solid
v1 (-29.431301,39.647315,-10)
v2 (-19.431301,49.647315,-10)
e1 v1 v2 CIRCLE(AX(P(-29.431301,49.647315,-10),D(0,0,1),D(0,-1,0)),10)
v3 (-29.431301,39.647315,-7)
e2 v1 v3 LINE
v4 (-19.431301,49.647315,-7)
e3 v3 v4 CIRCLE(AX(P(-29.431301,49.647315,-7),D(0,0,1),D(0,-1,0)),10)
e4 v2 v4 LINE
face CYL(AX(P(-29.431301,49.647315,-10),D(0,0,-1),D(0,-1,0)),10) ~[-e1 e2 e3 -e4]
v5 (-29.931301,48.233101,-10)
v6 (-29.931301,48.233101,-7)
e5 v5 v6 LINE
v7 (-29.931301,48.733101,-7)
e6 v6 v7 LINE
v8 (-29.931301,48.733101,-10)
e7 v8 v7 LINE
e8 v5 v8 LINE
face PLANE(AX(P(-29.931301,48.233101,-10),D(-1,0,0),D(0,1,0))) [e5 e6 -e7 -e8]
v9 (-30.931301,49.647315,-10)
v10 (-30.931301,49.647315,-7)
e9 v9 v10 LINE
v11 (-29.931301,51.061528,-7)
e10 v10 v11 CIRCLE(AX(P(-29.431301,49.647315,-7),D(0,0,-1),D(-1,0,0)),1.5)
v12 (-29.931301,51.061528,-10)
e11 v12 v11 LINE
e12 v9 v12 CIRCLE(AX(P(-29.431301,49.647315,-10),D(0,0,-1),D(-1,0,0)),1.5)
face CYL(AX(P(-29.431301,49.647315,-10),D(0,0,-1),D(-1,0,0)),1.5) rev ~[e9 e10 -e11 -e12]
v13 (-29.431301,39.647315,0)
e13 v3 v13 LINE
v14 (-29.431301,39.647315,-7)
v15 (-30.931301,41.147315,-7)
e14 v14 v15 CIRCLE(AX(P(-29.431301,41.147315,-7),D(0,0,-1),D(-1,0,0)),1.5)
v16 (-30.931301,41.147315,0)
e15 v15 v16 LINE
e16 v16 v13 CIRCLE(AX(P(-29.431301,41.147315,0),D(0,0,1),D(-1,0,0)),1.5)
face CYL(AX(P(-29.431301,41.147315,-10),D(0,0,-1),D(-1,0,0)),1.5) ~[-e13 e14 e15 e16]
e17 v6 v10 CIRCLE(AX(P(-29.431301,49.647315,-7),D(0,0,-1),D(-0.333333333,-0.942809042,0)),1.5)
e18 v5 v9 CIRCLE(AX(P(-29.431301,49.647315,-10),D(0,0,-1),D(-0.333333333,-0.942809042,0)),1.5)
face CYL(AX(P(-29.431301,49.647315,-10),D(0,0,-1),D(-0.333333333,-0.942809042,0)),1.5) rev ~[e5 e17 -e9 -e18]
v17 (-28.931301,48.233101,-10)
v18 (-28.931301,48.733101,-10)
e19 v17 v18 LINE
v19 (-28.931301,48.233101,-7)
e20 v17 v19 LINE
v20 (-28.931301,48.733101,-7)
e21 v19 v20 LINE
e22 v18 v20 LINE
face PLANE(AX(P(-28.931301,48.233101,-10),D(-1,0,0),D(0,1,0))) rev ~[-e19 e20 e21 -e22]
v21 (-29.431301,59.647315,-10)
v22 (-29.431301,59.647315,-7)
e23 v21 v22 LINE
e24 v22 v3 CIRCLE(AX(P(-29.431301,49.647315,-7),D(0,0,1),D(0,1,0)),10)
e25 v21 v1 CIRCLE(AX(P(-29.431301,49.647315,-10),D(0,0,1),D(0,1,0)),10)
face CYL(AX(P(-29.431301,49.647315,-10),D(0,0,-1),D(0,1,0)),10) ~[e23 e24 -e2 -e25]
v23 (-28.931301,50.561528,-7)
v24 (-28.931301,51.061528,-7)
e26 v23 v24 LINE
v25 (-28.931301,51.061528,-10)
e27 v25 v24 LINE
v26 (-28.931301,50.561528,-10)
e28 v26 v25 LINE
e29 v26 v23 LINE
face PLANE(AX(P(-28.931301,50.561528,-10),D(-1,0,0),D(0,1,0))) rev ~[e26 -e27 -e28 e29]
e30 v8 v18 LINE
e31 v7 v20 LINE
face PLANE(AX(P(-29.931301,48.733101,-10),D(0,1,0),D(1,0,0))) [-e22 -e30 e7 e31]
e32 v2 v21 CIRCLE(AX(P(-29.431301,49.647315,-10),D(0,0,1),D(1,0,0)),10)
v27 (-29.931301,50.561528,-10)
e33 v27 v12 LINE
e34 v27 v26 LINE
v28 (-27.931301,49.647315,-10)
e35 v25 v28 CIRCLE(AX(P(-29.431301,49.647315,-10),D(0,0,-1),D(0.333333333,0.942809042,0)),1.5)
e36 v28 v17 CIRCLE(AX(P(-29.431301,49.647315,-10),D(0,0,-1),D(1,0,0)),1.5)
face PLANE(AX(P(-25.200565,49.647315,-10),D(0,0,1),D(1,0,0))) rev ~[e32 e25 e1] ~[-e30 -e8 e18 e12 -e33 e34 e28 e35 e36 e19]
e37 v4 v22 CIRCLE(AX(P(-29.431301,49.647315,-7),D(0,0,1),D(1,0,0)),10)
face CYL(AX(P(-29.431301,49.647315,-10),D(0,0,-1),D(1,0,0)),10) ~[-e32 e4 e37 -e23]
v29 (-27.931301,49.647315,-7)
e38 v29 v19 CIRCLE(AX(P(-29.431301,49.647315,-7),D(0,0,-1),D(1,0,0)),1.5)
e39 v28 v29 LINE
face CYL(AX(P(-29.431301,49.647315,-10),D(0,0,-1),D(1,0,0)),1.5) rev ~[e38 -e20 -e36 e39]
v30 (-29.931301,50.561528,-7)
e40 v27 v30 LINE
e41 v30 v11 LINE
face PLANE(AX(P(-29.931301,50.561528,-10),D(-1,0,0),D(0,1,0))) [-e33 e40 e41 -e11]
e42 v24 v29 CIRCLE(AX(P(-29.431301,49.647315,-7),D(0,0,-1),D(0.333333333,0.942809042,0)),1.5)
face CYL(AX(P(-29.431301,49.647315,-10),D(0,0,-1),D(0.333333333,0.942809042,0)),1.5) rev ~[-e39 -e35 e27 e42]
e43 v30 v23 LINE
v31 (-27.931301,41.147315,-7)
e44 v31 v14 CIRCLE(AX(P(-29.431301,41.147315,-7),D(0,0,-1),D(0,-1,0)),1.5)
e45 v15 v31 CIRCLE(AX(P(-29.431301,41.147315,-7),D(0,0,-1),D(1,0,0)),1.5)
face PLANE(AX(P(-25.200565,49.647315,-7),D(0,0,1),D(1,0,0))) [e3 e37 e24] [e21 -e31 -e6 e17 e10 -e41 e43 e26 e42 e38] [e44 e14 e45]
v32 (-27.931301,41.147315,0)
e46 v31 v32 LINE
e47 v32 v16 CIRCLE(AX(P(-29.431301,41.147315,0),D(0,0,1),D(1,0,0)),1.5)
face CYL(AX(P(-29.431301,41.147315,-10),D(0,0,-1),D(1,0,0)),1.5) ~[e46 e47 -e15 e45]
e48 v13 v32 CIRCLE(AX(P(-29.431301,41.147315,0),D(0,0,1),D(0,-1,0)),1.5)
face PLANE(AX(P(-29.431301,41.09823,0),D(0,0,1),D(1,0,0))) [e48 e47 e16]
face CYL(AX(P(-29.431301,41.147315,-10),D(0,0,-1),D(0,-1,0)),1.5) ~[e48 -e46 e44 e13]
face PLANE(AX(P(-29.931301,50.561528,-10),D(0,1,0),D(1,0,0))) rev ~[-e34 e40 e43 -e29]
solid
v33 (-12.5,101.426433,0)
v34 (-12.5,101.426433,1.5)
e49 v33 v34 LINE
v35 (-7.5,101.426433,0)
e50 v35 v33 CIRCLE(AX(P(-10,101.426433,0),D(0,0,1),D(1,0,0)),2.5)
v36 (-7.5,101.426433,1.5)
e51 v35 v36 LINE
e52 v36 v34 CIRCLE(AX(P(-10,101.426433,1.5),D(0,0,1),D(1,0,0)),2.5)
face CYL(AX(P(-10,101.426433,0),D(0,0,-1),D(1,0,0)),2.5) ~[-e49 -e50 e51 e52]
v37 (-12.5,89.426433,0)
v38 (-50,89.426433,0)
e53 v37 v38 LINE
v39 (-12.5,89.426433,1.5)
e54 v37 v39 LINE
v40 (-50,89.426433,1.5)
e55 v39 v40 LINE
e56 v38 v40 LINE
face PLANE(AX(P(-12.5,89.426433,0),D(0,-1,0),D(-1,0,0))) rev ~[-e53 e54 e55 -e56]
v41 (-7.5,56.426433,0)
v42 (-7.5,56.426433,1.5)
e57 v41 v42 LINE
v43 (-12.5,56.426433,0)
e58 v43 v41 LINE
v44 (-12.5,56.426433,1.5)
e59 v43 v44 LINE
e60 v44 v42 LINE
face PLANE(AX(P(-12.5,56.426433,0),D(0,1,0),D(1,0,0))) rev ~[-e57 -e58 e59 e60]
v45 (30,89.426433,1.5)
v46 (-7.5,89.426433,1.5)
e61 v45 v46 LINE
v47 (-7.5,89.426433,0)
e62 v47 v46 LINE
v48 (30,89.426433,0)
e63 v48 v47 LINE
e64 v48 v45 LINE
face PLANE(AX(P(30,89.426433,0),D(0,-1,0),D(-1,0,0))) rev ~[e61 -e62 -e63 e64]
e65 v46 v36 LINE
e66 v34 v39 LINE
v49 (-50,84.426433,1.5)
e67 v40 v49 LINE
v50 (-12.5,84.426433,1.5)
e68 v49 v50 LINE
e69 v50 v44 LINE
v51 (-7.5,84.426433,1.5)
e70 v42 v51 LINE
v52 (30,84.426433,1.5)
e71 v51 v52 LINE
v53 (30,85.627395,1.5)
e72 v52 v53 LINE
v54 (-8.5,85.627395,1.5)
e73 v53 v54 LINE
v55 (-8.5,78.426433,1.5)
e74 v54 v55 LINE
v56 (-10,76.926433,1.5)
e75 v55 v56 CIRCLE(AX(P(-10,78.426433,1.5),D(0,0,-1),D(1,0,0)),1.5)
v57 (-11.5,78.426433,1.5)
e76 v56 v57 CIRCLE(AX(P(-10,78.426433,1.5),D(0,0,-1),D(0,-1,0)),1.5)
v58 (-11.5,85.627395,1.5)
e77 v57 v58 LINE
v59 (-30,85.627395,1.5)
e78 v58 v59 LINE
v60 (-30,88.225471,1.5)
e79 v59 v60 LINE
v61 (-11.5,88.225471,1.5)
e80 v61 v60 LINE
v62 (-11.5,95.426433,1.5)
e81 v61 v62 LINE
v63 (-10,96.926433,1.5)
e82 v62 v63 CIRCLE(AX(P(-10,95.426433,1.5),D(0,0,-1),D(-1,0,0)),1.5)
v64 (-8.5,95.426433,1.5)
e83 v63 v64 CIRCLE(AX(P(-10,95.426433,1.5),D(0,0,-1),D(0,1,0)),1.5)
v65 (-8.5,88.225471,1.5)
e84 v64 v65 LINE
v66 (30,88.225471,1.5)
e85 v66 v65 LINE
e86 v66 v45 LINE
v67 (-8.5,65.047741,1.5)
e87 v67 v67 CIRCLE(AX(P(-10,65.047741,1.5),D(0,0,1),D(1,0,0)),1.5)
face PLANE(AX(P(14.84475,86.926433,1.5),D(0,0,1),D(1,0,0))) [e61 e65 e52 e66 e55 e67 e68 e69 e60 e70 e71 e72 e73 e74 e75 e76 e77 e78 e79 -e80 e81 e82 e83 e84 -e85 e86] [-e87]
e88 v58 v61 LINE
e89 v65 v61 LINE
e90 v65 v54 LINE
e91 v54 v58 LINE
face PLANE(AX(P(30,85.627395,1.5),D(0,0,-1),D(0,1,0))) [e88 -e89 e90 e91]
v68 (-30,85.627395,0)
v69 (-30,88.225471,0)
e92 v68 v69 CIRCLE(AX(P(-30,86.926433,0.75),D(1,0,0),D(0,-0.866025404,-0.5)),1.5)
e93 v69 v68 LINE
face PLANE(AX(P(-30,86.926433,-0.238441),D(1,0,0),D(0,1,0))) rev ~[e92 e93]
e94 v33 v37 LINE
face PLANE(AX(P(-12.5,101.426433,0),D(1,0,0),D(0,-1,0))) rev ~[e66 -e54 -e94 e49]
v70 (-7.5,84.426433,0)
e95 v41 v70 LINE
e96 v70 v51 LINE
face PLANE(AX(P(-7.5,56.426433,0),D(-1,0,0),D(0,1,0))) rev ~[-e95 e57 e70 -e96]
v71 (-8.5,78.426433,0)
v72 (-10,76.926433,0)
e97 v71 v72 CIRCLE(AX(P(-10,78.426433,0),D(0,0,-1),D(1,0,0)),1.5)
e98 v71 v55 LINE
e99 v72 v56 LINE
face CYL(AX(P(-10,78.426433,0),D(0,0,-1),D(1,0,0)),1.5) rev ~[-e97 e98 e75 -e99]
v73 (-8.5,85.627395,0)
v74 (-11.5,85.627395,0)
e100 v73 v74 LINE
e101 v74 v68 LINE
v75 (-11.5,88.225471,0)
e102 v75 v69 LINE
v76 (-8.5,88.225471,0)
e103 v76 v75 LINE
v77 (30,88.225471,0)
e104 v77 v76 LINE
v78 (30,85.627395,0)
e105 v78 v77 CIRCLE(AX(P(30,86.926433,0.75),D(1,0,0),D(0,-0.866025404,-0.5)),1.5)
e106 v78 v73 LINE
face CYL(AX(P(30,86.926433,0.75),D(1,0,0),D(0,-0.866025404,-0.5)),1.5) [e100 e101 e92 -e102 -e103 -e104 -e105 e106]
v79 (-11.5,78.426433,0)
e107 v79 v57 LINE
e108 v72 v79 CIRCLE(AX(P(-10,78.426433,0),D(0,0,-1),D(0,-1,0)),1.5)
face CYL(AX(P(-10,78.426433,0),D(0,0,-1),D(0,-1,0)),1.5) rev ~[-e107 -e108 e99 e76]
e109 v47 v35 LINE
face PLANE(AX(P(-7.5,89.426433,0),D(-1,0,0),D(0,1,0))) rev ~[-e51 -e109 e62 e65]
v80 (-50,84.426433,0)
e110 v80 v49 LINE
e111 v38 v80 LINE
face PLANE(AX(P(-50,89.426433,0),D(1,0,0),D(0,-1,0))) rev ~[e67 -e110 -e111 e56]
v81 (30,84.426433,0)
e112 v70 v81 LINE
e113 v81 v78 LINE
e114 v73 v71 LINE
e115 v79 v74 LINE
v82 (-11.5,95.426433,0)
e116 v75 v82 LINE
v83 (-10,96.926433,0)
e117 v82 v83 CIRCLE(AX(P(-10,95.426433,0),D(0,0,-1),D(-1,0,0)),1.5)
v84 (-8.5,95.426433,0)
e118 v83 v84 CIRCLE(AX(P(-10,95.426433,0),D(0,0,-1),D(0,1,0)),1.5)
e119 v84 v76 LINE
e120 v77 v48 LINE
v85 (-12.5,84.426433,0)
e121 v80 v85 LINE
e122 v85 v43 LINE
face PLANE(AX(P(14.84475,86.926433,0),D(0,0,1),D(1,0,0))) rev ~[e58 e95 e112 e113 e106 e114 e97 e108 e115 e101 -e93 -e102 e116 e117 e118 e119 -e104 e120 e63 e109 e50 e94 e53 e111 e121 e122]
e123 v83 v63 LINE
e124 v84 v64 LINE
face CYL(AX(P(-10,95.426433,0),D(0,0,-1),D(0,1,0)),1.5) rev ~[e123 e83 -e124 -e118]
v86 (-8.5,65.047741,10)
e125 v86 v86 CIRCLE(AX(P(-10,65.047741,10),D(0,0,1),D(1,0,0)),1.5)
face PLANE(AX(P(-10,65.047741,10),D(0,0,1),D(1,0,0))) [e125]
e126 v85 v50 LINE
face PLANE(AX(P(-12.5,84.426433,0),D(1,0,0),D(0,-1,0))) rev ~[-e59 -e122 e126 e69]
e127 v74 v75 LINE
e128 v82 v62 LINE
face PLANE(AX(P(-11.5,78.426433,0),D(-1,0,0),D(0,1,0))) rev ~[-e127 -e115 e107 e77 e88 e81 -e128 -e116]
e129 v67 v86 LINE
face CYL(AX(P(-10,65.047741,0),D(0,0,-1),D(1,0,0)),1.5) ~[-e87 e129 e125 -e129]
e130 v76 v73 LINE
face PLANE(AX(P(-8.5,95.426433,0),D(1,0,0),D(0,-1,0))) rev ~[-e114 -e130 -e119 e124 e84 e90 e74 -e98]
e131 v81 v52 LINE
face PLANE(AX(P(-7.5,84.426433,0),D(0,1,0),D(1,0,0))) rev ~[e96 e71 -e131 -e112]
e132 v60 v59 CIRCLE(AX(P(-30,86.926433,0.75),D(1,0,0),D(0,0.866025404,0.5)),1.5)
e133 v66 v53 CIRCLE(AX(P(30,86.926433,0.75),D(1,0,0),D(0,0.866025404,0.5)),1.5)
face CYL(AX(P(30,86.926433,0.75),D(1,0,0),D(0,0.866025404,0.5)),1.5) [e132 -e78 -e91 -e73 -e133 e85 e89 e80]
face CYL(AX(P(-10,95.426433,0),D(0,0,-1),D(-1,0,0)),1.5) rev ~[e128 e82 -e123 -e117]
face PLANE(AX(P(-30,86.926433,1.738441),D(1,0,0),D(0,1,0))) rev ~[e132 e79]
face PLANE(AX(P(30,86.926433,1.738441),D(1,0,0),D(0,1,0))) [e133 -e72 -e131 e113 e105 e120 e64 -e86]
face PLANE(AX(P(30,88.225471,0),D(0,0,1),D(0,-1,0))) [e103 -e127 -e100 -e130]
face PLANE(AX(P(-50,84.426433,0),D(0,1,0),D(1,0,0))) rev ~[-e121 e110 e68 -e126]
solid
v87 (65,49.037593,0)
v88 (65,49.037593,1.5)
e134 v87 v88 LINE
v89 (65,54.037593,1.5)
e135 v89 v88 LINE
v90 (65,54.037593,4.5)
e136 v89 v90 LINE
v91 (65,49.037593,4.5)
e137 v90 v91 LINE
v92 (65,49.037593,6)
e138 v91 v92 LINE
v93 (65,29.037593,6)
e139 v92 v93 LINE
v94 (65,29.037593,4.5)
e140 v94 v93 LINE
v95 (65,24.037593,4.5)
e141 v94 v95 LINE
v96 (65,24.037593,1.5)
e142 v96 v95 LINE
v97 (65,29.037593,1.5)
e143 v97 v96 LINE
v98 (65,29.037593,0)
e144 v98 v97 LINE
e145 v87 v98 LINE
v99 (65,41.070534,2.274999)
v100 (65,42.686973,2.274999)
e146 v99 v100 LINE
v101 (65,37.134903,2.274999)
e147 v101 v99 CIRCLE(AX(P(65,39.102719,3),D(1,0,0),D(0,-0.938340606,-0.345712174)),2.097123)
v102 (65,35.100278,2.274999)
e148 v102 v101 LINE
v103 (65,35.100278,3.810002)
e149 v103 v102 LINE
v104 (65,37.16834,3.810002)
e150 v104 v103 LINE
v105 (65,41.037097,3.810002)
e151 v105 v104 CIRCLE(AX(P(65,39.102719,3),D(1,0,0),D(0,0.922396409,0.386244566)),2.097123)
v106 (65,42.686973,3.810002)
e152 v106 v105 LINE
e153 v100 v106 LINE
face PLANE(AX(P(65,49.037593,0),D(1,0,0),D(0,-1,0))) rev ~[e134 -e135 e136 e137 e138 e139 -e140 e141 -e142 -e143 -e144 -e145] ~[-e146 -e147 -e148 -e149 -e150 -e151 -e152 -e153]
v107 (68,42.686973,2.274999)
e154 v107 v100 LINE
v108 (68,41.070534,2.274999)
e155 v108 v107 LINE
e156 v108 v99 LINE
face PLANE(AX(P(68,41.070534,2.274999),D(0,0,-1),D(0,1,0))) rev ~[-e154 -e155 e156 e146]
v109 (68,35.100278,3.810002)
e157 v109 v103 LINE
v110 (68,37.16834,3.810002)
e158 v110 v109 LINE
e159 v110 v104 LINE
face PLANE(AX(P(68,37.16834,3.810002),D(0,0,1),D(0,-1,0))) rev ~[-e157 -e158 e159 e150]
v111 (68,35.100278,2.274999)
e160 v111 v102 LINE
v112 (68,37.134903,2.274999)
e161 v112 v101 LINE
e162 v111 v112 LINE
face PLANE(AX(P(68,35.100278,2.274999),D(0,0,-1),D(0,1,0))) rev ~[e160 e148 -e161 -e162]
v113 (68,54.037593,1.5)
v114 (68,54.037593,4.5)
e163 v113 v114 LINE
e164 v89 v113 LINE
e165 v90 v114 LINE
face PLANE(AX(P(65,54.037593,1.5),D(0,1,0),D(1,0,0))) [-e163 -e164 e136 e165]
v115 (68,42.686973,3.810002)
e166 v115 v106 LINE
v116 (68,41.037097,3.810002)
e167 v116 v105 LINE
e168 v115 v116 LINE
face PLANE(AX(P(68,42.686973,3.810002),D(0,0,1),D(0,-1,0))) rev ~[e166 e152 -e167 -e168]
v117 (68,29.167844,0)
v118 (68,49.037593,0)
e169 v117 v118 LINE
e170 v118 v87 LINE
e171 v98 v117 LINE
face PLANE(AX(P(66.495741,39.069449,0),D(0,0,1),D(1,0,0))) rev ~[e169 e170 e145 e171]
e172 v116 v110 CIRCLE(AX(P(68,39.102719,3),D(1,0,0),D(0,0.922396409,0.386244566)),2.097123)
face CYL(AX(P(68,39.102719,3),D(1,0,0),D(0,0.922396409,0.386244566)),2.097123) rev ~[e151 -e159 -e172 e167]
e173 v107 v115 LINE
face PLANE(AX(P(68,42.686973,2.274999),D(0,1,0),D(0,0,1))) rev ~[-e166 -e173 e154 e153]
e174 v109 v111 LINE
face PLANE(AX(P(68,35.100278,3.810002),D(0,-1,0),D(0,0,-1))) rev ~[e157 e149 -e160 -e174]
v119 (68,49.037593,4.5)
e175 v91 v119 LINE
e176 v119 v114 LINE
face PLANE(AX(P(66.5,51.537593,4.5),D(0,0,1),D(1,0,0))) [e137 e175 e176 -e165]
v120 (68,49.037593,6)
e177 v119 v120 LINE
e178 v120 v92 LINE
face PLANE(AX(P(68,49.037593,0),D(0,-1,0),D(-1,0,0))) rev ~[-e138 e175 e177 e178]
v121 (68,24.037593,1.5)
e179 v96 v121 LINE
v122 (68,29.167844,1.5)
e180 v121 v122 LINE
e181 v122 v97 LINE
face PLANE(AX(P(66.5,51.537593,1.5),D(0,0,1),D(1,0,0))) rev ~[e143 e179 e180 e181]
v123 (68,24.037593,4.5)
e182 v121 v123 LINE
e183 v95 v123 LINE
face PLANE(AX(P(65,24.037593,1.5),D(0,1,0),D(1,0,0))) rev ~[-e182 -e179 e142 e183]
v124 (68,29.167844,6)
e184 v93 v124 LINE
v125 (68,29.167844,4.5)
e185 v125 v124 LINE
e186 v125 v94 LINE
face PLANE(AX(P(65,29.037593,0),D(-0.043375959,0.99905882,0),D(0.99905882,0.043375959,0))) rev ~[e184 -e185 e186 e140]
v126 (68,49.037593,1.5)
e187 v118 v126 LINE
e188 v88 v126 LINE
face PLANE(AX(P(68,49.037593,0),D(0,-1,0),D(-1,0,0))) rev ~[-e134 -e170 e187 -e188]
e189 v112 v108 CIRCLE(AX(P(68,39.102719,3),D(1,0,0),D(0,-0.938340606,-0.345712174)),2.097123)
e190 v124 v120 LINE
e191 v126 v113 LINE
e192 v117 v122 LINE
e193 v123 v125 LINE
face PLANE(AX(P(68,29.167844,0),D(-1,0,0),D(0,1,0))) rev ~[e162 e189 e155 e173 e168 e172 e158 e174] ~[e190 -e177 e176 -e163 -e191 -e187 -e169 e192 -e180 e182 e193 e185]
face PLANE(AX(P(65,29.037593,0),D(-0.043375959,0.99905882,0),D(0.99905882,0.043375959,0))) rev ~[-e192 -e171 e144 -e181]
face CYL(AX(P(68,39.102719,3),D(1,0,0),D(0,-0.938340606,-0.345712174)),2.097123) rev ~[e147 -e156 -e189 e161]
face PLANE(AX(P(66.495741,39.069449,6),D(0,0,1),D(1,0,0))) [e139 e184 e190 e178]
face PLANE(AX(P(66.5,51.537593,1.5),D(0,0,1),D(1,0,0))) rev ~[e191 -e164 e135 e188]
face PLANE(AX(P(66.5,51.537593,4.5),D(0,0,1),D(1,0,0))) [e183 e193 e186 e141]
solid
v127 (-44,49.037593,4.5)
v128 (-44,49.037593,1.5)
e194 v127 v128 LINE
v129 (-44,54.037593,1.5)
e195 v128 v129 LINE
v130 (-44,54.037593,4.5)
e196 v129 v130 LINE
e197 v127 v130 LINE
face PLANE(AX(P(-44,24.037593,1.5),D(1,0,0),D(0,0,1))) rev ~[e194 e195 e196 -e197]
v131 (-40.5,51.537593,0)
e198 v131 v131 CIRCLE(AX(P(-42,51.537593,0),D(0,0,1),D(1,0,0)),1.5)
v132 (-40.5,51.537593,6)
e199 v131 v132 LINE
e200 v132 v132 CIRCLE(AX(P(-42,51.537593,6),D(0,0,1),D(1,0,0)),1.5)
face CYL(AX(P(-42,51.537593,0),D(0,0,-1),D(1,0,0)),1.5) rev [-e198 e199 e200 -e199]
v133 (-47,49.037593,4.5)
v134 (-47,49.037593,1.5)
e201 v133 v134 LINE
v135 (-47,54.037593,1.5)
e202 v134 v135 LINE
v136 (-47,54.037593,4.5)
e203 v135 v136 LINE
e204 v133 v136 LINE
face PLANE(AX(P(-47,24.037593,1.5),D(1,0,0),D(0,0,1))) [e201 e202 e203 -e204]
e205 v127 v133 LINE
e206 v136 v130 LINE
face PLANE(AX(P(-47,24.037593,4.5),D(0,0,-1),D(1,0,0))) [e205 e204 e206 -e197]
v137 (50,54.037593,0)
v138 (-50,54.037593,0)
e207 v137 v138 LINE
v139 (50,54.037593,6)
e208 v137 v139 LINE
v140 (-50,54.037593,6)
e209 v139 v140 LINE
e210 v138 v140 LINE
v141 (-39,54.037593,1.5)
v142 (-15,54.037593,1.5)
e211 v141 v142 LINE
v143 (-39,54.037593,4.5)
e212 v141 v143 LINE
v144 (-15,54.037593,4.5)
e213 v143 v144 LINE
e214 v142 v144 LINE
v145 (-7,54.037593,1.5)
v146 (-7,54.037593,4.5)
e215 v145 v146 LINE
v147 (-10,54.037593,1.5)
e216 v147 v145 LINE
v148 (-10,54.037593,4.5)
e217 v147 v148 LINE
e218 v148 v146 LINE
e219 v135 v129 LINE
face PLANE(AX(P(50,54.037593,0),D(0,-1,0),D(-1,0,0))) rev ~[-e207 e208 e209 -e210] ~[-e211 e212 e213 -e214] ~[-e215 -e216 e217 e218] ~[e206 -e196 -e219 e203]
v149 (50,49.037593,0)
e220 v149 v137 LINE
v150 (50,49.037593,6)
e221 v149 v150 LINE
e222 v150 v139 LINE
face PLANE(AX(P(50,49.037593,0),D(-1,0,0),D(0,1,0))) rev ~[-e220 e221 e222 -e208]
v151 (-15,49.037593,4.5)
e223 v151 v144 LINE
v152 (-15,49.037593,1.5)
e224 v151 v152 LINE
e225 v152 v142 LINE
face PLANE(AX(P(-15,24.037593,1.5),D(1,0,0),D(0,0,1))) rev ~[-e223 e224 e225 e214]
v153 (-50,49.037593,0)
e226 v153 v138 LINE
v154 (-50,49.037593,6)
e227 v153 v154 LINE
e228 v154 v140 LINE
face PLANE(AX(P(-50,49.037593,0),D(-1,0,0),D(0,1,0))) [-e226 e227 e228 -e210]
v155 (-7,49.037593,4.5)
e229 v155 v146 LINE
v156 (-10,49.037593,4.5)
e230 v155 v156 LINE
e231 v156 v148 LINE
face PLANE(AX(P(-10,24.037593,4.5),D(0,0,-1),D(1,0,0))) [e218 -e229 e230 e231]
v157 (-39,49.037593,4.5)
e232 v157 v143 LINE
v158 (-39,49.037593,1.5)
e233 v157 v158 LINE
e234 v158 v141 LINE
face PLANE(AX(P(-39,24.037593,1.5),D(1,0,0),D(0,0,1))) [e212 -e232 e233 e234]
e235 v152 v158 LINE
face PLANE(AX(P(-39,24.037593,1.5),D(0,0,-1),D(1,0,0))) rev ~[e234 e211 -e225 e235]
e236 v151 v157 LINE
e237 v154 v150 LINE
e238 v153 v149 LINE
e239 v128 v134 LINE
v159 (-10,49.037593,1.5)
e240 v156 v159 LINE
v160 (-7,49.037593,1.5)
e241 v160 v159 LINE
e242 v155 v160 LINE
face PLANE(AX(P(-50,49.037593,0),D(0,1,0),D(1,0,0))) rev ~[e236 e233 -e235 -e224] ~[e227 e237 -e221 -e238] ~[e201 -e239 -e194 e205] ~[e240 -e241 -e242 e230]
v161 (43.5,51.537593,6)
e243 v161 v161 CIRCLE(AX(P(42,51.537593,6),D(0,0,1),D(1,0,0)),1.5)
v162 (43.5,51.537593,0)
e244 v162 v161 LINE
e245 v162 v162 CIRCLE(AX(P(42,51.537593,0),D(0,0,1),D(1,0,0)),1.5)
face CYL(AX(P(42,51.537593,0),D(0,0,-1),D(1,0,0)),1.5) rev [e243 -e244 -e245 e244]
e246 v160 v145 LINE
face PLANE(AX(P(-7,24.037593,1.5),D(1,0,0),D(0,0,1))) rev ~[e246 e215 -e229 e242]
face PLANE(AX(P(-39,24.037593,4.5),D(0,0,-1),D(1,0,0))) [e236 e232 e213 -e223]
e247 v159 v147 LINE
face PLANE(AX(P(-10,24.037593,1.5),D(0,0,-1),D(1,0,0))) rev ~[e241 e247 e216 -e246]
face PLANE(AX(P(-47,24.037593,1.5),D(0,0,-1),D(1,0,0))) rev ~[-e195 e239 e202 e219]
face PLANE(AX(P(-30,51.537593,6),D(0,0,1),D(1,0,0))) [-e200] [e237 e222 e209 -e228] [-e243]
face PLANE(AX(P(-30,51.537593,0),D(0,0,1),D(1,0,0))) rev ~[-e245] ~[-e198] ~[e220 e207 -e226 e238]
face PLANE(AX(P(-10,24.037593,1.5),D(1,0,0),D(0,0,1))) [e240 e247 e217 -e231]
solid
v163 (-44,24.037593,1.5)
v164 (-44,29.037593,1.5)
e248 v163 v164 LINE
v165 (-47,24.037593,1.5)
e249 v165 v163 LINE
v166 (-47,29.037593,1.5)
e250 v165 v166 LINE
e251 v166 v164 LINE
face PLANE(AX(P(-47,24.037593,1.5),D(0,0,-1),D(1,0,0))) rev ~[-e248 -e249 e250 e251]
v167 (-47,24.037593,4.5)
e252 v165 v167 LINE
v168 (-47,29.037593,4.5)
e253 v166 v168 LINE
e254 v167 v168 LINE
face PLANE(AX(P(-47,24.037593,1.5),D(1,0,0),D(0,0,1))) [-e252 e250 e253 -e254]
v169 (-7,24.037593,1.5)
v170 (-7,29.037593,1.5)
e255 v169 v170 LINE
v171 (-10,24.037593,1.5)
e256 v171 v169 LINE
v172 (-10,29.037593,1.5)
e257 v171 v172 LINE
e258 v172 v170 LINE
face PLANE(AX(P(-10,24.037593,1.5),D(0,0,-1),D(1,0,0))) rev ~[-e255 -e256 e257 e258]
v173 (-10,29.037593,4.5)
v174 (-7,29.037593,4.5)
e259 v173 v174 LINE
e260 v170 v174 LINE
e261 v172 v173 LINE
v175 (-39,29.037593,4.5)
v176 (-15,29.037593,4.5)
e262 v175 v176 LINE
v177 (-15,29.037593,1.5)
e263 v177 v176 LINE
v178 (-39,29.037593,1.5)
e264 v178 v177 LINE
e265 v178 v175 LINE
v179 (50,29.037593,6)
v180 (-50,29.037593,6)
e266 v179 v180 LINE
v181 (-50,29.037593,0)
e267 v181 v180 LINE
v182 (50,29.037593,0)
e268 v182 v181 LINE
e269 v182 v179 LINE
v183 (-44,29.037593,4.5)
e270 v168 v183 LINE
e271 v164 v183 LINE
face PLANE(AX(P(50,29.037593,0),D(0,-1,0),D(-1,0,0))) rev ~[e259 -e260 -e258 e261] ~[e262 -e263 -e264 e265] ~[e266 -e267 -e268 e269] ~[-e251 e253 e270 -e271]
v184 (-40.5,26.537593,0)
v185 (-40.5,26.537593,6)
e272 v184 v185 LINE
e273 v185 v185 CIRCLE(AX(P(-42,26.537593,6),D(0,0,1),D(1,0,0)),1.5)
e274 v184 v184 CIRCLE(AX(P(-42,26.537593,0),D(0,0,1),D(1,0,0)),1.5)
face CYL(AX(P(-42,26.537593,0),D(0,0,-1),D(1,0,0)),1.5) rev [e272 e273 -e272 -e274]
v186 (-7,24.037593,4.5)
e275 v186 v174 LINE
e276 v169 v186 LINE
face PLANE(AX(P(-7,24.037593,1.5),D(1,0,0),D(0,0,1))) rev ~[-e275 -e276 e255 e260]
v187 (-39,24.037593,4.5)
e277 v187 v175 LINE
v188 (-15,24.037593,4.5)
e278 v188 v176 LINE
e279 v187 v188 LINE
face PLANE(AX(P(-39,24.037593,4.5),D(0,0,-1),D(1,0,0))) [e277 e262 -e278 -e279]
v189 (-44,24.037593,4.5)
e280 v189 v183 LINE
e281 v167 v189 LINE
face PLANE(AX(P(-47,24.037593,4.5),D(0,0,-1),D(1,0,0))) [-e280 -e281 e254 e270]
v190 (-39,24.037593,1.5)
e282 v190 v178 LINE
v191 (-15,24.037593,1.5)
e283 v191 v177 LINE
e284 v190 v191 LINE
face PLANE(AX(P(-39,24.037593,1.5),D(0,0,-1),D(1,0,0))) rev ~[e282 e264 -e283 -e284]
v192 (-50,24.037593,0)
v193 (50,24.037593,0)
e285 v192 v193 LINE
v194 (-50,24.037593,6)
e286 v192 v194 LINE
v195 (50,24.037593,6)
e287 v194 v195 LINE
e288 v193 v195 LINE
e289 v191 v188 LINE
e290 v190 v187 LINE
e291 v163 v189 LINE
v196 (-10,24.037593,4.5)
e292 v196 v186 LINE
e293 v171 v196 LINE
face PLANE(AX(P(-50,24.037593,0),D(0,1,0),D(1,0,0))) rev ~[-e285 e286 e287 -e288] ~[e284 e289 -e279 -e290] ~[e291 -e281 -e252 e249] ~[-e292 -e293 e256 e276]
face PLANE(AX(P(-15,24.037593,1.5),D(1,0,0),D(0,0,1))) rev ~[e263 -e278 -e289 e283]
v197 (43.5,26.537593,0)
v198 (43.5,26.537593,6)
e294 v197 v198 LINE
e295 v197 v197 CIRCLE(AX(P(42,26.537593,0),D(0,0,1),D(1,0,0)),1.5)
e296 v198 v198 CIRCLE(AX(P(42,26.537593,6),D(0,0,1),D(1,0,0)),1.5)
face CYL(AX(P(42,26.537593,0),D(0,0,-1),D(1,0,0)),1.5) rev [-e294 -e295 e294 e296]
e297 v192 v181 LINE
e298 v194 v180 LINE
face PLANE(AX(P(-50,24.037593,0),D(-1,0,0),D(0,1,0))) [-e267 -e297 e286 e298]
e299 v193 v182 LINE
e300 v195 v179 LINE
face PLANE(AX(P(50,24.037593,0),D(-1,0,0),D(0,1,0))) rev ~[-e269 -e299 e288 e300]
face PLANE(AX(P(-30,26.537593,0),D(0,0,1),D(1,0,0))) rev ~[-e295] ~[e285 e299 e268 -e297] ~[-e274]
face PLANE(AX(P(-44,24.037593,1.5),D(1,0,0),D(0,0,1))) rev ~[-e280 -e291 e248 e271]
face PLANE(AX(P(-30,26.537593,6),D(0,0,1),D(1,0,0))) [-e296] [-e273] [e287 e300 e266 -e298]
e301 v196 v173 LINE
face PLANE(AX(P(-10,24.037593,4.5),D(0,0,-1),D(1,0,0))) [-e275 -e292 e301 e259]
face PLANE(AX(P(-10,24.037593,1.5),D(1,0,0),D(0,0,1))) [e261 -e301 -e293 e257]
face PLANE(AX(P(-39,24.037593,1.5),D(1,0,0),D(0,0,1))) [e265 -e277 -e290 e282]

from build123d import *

# Parameters (mm, degrees)
F0_W      = 40
F0_H      = 5
F0_R      = 1.5
F0_W_2    = 3
F0_W_3    = 57
F1_DEPTH  = 6
F2_START  = 1.5
F2_DEPTH  = 3
F3_DEPTH  = 6
F5_DEPTH  = 118.001
F6_W      = 3
F6_H      = 3
F6_W_2    = 24
F7_DEPTH  = 30.001
F0_W_4    = 1
F8_DEPTH  = 1.5
F9_DEPTH  = 10
F11_DEPTH = 60
F13_W     = 1
F13_H     = 0.5
F14_DEPTH = 3
F15_DEPTH = 10


with BuildPart() as f1:
    # F0 (on Top) → F1 (new body)
    with BuildSketch(Plane.XY):
        with Locations((-30, 51.5375933051)):
            Rectangle(F0_W, F0_H)
        with Locations((-42, 51.5375933051)):
            Circle(F0_R, mode=Mode.SUBTRACT)
        with Locations((-8.5, 51.5375933051)):
            Rectangle(F0_W_2, F0_H)
        with Locations((21.5, 51.5375933051)):
            Rectangle(F0_W_3, F0_H)
        with Locations((42, 51.5375933051)):
            Circle(F0_R, mode=Mode.SUBTRACT)
    extrude(amount=F1_DEPTH)


with BuildPart() as f1b:
    # F0 (on Top) → F1, piece 2 (new body)
    with BuildSketch(Plane.XY):
        with Locations((-30, 26.5375933051)):
            Rectangle(F0_W, F0_H)
        with Locations((-42, 26.5375933051)):
            Circle(F0_R, mode=Mode.SUBTRACT)
        with Locations((-8.5, 26.5375933051)):
            Rectangle(F0_W_2, F0_H)
        with Locations((21.5, 26.5375933051)):
            Rectangle(F0_W_3, F0_H)
        with Locations((42, 26.5375933051)):
            Circle(F0_R, mode=Mode.SUBTRACT)
    extrude(amount=F1_DEPTH)


with BuildPart() as f2:
    # F0 (on Top) → F2 (new body)
    with BuildSketch(Plane.XY.offset(F2_START)):
        with Locations((66.5, 51.5375933051)):
            Rectangle(F0_W_2, F0_H)
        Polygon((68, 49.0375933051), (65, 49.0375933051), (65, 29.0375933051), (68, 29.1678437704), align=None)
        Polygon((68, 29.1678437704), (65, 29.0375933051), (65, 24.0375933051), (68, 24.0375933051), align=None)
    extrude(amount=F2_DEPTH)

    # F0 (on Top) → F3 (join)
    with BuildSketch(Plane.XY):
        Polygon((68, 49.0375933051), (65, 49.0375933051), (65, 29.0375933051), (68, 29.1678437704), align=None)
    extrude(amount=F3_DEPTH)

    # F4 (on face) → F5 (cut, through all)
    with BuildSketch(Plane.YZ.offset(68)):
        with BuildLine():
            ThreePointArc((41.0705338954, 2.2749991622), (41.1672613074, 2.6317790758), (41.1998412086, 3))
            ThreePointArc((41.1998412086, 3), (41.1587526252, 3.4130948174), (41.0370969586, 3.8100022357))
            Line((41.0370969586, 3.8100022357), (37.1683401169, 3.8100022357))
            ThreePointArc((37.1683401169, 3.8100022357), (37.0060932302, 3.0456707411), (37.13490318, 2.2749991622))
            Line((37.13490318, 2.2749991622), (41.0705338954, 2.2749991622))
        make_face()
        with BuildLine():
            Line((37.1683401169, 3.8100022357), (41.0370969586, 3.8100022357))
            ThreePointArc((41.0370969586, 3.8100022357), (39.1027185377, 5.0971226709), (37.1683401169, 3.8100022357))
        make_face()
        with BuildLine():
            ThreePointArc((41.0370969586, 3.8100022357), (41.1587526252, 3.4130948174), (41.1998412086, 3))
            ThreePointArc((41.1998412086, 3), (41.1672613074, 2.6317790758), (41.0705338954, 2.2749991622))
            Line((41.0705338954, 2.2749991622), (42.6869727671, 2.2749991622))
            Line((42.6869727671, 2.2749991622), (42.6869727671, 3.8100022357))
            Line((42.6869727671, 3.8100022357), (41.0370969586, 3.8100022357))
        make_face()
        with BuildLine():
            ThreePointArc((37.13490318, 2.2749991622), (39.1027185377, 0.9028773291), (41.0705338954, 2.2749991622))
            Line((41.0705338954, 2.2749991622), (37.13490318, 2.2749991622))
        make_face()
        with BuildLine():
            ThreePointArc((37.13490318, 2.2749991622), (37.0060932302, 3.0456707411), (37.1683401169, 3.8100022357))
            Line((37.1683401169, 3.8100022357), (35.1002775133, 3.8100022357))
            Line((35.1002775133, 3.8100022357), (35.1002775133, 2.2749991622))
            Line((35.1002775133, 2.2749991622), (37.13490318, 2.2749991622))
        make_face()
    extrude(amount=-F5_DEPTH, mode=Mode.SUBTRACT)


with BuildPart() as f7_tool:
    # F6 (on face) → F7 (new body, through all)
    with BuildSketch(Plane.XZ.offset(-24.0375933051)):
        with Locations((-8.5, 3)):
            Rectangle(F6_W, F6_H)
        with Locations((-45.5, 3)):
            Rectangle(F6_W, F6_H)
        with Locations((-27, 3)):
            Rectangle(F6_W_2, F6_H)
    extrude(amount=-F7_DEPTH)


with BuildPart() as f1_1:
    add(f1.part)

    # F7: cut by f7_tool
    add(f7_tool.part, mode=Mode.SUBTRACT)


with BuildPart() as f1b_1:
    add(f1b.part)

    # F7: cut by f7_tool
    add(f7_tool.part, mode=Mode.SUBTRACT)


with BuildPart() as f8:
    # F0 (on Top) → F8 (new body)
    with BuildSketch(Plane.XY):
        with BuildLine():
            Line((30, 89.426432848), (-0.3175416345, 89.426432848))
            ThreePointArc((-0.3175416345, 89.426432848), (-0.0797030373, 88.1864757728), (0, 86.926432848))
            ThreePointArc((0, 86.926432848), (-0.0797030373, 85.6663899231), (-0.3175416345, 84.426432848))
            Line((-0.3175416345, 84.426432848), (30, 84.426432848))
            Line((30, 84.426432848), (30, 89.426432848))
        make_face()
        with BuildLine():
            Line((-19.6824583655, 89.426432848), (-50, 89.426432848))
            Line((-50, 89.426432848), (-50, 84.426432848))
            Line((-50, 84.426432848), (-19.6824583655, 84.426432848))
            ThreePointArc((-19.6824583655, 84.426432848), (-20, 86.926432848), (-19.6824583655, 89.426432848))
        make_face()
        with BuildLine():
            ThreePointArc((-7.5, 101.426432848), (-10, 103.926432848), (-12.5, 101.426432848))
            Line((-12.5, 101.426432848), (-7.5, 101.426432848))
        make_face()
        with BuildLine():
            Line((-12.5, 101.426432848), (-12.5, 96.6088912135))
            ThreePointArc((-12.5, 96.6088912135), (-11.2600429248, 96.8467298106), (-10, 96.926432848))
            ThreePointArc((-10, 96.926432848), (-8.7399570752, 96.8467298106), (-7.5, 96.6088912135))
            Line((-7.5, 96.6088912135), (-7.5, 101.426432848))
            Line((-7.5, 101.426432848), (-12.5, 101.426432848))
        make_face()
        with BuildLine():
            ThreePointArc((-10, 76.926432848), (-11.2600429248, 77.0061358853), (-12.5, 77.2439744825))
            Line((-12.5, 77.2439744825), (-12.5, 56.426432848))
            Line((-12.5, 56.426432848), (-7.5, 56.426432848))
            Line((-7.5, 56.426432848), (-7.5, 77.2439744825))
            ThreePointArc((-7.5, 77.2439744825), (-8.7399570752, 77.0061358853), (-10, 76.926432848))
        make_face()
        with Locations((-10, 65.0477409363)):
            Circle(F0_R, mode=Mode.SUBTRACT)
        with Locations((-12, 86.926432848)):
            Rectangle(F0_W_4, F0_H)
        with Locations((-8, 86.926432848)):
            Rectangle(F0_W_4, F0_H)
        with BuildLine():
            Line((-12.5, 89.426432848), (-19.6824583655, 89.426432848))
            ThreePointArc((-19.6824583655, 89.426432848), (-20, 86.926432848), (-19.6824583655, 84.426432848))
            Line((-19.6824583655, 84.426432848), (-12.5, 84.426432848))
            Line((-12.5, 84.426432848), (-12.5, 89.426432848))
        make_face()
        with BuildLine():
            Line((-0.3175416345, 89.426432848), (-7.5, 89.426432848))
            Line((-7.5, 89.426432848), (-7.5, 84.426432848))
            Line((-7.5, 84.426432848), (-0.3175416345, 84.426432848))
            ThreePointArc((-0.3175416345, 84.426432848), (-0.0797030373, 85.6663899231), (0, 86.926432848))
            ThreePointArc((0, 86.926432848), (-0.0797030373, 88.1864757728), (-0.3175416345, 89.426432848))
        make_face()
        with BuildLine():
            Line((-12.5, 96.6088912135), (-12.5, 89.426432848))
            Line((-12.5, 89.426432848), (-11.5, 89.426432848))
            Line((-11.5, 89.426432848), (-11.5, 95.426432848))
            ThreePointArc((-11.5, 95.426432848), (-11.0606601718, 96.4870930198), (-10, 96.926432848))
            ThreePointArc((-10, 96.926432848), (-11.2600429248, 96.8467298106), (-12.5, 96.6088912135))
        make_face()
        with BuildLine():
            ThreePointArc((-7.5, 96.6088912135), (-8.7399570752, 96.8467298106), (-10, 96.926432848))
            ThreePointArc((-10, 96.926432848), (-8.9393398282, 96.4870930198), (-8.5, 95.426432848))
            Line((-8.5, 95.426432848), (-8.5, 89.426432848))
            Line((-8.5, 89.426432848), (-7.5, 89.426432848))
            Line((-7.5, 89.426432848), (-7.5, 96.6088912135))
        make_face()
        with BuildLine():
            ThreePointArc((-8.5, 78.426432848), (-8.9393398282, 77.3657726762), (-10, 76.926432848))
            ThreePointArc((-10, 76.926432848), (-8.7399570752, 77.0061358853), (-7.5, 77.2439744825))
            Line((-7.5, 77.2439744825), (-7.5, 84.426432848))
            Line((-7.5, 84.426432848), (-8.5, 84.426432848))
            Line((-8.5, 84.426432848), (-8.5, 78.426432848))
        make_face()
        with BuildLine():
            Line((-11.5, 84.426432848), (-12.5, 84.426432848))
            Line((-12.5, 84.426432848), (-12.5, 77.2439744825))
            ThreePointArc((-12.5, 77.2439744825), (-11.2600429248, 77.0061358853), (-10, 76.926432848))
            ThreePointArc((-10, 76.926432848), (-11.0606601718, 77.3657726762), (-11.5, 78.426432848))
            Line((-11.5, 78.426432848), (-11.5, 84.426432848))
        make_face()
    extrude(amount=F8_DEPTH)

    # F0 (on Top) → F9 (join)
    with BuildSketch(Plane.XY):
        with Locations((-10, 65.0477409363)):
            Circle(F0_R)
    extrude(amount=F9_DEPTH)

    # F10 (on face) → F11 (join)
    with BuildSketch(Plane.YZ.offset(30)):
        with BuildLine():
            Line((85.6273947423, 1.5), (86.926432848, 1.5))
            Line((86.926432848, 1.5), (88.2254709537, 1.5))
            ThreePointArc((88.2254709537, 1.5), (86.926432848, 2.25), (85.6273947423, 1.5))
        make_face()
        with BuildLine():
            Line((88.2254709537, 0), (86.926432848, 0))
            Line((86.926432848, 0), (85.6273947423, 0))
            ThreePointArc((85.6273947423, 0), (86.926432848, -0.75), (88.2254709537, 0))
        make_face()
    extrude(amount=-F11_DEPTH)


with BuildPart() as f14:
    # F13 (on offset) → F14 (new body)
    with BuildSketch(Plane.XY.offset(-10)):
        with BuildLine():
            ThreePointArc((-19.4313011797, 49.6473146049), (-22.3602333678, 56.7183824168), (-29.4313011797, 59.6473146049))
            ThreePointArc((-29.4313011797, 59.6473146049), (-28.3706410079, 59.2079747767), (-27.9313011797, 58.1473146049))
            Line((-27.9313011797, 58.1473146049), (-27.9313011797, 49.6473146049))
            Line((-27.9313011797, 49.6473146049), (-27.9313011797, 41.1473146049))
            ThreePointArc((-27.9313011797, 41.1473146049), (-28.3706410079, 40.0866544332), (-29.4313011797, 39.6473146049))
            ThreePointArc((-29.4313011797, 39.6473146049), (-22.3602333678, 42.5762467931), (-19.4313011797, 49.6473146049))
        make_face()
        with BuildLine():
            ThreePointArc((-27.9313011797, 41.1473146049), (-29.4313011797, 42.6473146049), (-30.9313011797, 41.1473146049))
            ThreePointArc((-30.9313011797, 41.1473146049), (-30.4919613514, 40.0866544332), (-29.4313011797, 39.6473146049))
            ThreePointArc((-29.4313011797, 39.6473146049), (-28.3706410079, 40.0866544332), (-27.9313011797, 41.1473146049))
        make_face()
        with BuildLine():
            Line((-30.9313011797, 49.6473146049), (-30.9313011797, 58.1473146049))
            ThreePointArc((-30.9313011797, 58.1473146049), (-30.4919613514, 59.2079747767), (-29.4313011797, 59.6473146049))
            ThreePointArc((-29.4313011797, 59.6473146049), (-39.4313011797, 49.6473146049), (-29.4313011797, 39.6473146049))
            ThreePointArc((-29.4313011797, 39.6473146049), (-30.4919613514, 40.0866544332), (-30.9313011797, 41.1473146049))
            Line((-30.9313011797, 41.1473146049), (-30.9313011797, 49.6473146049))
        make_face()
        with BuildLine():
            ThreePointArc((-29.9313011797, 48.2331010426), (-30.6560460511, 48.7812892012), (-30.9313011797, 49.6473146049))
            Line((-30.9313011797, 49.6473146049), (-30.9313011797, 41.1473146049))
            ThreePointArc((-30.9313011797, 41.1473146049), (-29.4313011797, 42.6473146049), (-27.9313011797, 41.1473146049))
            Line((-27.9313011797, 41.1473146049), (-27.9313011797, 49.6473146049))
            ThreePointArc((-27.9313011797, 49.6473146049), (-28.2065563083, 48.7812892012), (-28.9313011797, 48.2331010426))
            ThreePointArc((-28.9313011797, 48.2331010426), (-29.4313011797, 48.1473146049), (-29.9313011797, 48.2331010426))
        make_face()
        with BuildLine():
            ThreePointArc((-29.4313011797, 59.6473146049), (-30.4919613514, 59.2079747767), (-30.9313011797, 58.1473146049))
            Line((-30.9313011797, 58.1473146049), (-30.9313011797, 49.6473146049))
            ThreePointArc((-30.9313011797, 49.6473146049), (-30.6560460511, 50.5133400087), (-29.9313011797, 51.0615281673))
            ThreePointArc((-29.9313011797, 51.0615281673), (-29.4313011797, 51.1473146049), (-28.9313011797, 51.0615281673))
            ThreePointArc((-28.9313011797, 51.0615281673), (-28.2065563083, 50.5133400087), (-27.9313011797, 49.6473146049))
            Line((-27.9313011797, 49.6473146049), (-27.9313011797, 58.1473146049))
            ThreePointArc((-27.9313011797, 58.1473146049), (-28.3706410079, 59.2079747767), (-29.4313011797, 59.6473146049))
        make_face()
        with Locations((-29.4313011797, 50.8115281673)):
            Rectangle(F13_W, F13_H)
        with BuildLine():
            ThreePointArc((-28.9313011797, 51.0615281673), (-29.4313011797, 51.1473146049), (-29.9313011797, 51.0615281673))
            Line((-29.9313011797, 51.0615281673), (-28.9313011797, 51.0615281673))
        make_face()
        with Locations((-29.4313011797, 48.4831010426)):
            Rectangle(F13_W, F13_H)
        with BuildLine():
            Line((-28.9313011797, 48.2331010426), (-29.9313011797, 48.2331010426))
            ThreePointArc((-29.9313011797, 48.2331010426), (-29.4313011797, 48.1473146049), (-28.9313011797, 48.2331010426))
        make_face()
    extrude(amount=F14_DEPTH)

    # F13 (on offset) → F15 (join)
    with BuildSketch(Plane.XY.offset(-10)):
        with BuildLine():
            ThreePointArc((-27.9313011797, 41.1473146049), (-29.4313011797, 42.6473146049), (-30.9313011797, 41.1473146049))
            ThreePointArc((-30.9313011797, 41.1473146049), (-30.4919613514, 40.0866544332), (-29.4313011797, 39.6473146049))
            ThreePointArc((-29.4313011797, 39.6473146049), (-28.3706410079, 40.0866544332), (-27.9313011797, 41.1473146049))
        make_face()
    extrude(amount=F15_DEPTH)


solid = Compound([f2.part, f1_1.part, f1b_1.part, f8.part, f14.part])
